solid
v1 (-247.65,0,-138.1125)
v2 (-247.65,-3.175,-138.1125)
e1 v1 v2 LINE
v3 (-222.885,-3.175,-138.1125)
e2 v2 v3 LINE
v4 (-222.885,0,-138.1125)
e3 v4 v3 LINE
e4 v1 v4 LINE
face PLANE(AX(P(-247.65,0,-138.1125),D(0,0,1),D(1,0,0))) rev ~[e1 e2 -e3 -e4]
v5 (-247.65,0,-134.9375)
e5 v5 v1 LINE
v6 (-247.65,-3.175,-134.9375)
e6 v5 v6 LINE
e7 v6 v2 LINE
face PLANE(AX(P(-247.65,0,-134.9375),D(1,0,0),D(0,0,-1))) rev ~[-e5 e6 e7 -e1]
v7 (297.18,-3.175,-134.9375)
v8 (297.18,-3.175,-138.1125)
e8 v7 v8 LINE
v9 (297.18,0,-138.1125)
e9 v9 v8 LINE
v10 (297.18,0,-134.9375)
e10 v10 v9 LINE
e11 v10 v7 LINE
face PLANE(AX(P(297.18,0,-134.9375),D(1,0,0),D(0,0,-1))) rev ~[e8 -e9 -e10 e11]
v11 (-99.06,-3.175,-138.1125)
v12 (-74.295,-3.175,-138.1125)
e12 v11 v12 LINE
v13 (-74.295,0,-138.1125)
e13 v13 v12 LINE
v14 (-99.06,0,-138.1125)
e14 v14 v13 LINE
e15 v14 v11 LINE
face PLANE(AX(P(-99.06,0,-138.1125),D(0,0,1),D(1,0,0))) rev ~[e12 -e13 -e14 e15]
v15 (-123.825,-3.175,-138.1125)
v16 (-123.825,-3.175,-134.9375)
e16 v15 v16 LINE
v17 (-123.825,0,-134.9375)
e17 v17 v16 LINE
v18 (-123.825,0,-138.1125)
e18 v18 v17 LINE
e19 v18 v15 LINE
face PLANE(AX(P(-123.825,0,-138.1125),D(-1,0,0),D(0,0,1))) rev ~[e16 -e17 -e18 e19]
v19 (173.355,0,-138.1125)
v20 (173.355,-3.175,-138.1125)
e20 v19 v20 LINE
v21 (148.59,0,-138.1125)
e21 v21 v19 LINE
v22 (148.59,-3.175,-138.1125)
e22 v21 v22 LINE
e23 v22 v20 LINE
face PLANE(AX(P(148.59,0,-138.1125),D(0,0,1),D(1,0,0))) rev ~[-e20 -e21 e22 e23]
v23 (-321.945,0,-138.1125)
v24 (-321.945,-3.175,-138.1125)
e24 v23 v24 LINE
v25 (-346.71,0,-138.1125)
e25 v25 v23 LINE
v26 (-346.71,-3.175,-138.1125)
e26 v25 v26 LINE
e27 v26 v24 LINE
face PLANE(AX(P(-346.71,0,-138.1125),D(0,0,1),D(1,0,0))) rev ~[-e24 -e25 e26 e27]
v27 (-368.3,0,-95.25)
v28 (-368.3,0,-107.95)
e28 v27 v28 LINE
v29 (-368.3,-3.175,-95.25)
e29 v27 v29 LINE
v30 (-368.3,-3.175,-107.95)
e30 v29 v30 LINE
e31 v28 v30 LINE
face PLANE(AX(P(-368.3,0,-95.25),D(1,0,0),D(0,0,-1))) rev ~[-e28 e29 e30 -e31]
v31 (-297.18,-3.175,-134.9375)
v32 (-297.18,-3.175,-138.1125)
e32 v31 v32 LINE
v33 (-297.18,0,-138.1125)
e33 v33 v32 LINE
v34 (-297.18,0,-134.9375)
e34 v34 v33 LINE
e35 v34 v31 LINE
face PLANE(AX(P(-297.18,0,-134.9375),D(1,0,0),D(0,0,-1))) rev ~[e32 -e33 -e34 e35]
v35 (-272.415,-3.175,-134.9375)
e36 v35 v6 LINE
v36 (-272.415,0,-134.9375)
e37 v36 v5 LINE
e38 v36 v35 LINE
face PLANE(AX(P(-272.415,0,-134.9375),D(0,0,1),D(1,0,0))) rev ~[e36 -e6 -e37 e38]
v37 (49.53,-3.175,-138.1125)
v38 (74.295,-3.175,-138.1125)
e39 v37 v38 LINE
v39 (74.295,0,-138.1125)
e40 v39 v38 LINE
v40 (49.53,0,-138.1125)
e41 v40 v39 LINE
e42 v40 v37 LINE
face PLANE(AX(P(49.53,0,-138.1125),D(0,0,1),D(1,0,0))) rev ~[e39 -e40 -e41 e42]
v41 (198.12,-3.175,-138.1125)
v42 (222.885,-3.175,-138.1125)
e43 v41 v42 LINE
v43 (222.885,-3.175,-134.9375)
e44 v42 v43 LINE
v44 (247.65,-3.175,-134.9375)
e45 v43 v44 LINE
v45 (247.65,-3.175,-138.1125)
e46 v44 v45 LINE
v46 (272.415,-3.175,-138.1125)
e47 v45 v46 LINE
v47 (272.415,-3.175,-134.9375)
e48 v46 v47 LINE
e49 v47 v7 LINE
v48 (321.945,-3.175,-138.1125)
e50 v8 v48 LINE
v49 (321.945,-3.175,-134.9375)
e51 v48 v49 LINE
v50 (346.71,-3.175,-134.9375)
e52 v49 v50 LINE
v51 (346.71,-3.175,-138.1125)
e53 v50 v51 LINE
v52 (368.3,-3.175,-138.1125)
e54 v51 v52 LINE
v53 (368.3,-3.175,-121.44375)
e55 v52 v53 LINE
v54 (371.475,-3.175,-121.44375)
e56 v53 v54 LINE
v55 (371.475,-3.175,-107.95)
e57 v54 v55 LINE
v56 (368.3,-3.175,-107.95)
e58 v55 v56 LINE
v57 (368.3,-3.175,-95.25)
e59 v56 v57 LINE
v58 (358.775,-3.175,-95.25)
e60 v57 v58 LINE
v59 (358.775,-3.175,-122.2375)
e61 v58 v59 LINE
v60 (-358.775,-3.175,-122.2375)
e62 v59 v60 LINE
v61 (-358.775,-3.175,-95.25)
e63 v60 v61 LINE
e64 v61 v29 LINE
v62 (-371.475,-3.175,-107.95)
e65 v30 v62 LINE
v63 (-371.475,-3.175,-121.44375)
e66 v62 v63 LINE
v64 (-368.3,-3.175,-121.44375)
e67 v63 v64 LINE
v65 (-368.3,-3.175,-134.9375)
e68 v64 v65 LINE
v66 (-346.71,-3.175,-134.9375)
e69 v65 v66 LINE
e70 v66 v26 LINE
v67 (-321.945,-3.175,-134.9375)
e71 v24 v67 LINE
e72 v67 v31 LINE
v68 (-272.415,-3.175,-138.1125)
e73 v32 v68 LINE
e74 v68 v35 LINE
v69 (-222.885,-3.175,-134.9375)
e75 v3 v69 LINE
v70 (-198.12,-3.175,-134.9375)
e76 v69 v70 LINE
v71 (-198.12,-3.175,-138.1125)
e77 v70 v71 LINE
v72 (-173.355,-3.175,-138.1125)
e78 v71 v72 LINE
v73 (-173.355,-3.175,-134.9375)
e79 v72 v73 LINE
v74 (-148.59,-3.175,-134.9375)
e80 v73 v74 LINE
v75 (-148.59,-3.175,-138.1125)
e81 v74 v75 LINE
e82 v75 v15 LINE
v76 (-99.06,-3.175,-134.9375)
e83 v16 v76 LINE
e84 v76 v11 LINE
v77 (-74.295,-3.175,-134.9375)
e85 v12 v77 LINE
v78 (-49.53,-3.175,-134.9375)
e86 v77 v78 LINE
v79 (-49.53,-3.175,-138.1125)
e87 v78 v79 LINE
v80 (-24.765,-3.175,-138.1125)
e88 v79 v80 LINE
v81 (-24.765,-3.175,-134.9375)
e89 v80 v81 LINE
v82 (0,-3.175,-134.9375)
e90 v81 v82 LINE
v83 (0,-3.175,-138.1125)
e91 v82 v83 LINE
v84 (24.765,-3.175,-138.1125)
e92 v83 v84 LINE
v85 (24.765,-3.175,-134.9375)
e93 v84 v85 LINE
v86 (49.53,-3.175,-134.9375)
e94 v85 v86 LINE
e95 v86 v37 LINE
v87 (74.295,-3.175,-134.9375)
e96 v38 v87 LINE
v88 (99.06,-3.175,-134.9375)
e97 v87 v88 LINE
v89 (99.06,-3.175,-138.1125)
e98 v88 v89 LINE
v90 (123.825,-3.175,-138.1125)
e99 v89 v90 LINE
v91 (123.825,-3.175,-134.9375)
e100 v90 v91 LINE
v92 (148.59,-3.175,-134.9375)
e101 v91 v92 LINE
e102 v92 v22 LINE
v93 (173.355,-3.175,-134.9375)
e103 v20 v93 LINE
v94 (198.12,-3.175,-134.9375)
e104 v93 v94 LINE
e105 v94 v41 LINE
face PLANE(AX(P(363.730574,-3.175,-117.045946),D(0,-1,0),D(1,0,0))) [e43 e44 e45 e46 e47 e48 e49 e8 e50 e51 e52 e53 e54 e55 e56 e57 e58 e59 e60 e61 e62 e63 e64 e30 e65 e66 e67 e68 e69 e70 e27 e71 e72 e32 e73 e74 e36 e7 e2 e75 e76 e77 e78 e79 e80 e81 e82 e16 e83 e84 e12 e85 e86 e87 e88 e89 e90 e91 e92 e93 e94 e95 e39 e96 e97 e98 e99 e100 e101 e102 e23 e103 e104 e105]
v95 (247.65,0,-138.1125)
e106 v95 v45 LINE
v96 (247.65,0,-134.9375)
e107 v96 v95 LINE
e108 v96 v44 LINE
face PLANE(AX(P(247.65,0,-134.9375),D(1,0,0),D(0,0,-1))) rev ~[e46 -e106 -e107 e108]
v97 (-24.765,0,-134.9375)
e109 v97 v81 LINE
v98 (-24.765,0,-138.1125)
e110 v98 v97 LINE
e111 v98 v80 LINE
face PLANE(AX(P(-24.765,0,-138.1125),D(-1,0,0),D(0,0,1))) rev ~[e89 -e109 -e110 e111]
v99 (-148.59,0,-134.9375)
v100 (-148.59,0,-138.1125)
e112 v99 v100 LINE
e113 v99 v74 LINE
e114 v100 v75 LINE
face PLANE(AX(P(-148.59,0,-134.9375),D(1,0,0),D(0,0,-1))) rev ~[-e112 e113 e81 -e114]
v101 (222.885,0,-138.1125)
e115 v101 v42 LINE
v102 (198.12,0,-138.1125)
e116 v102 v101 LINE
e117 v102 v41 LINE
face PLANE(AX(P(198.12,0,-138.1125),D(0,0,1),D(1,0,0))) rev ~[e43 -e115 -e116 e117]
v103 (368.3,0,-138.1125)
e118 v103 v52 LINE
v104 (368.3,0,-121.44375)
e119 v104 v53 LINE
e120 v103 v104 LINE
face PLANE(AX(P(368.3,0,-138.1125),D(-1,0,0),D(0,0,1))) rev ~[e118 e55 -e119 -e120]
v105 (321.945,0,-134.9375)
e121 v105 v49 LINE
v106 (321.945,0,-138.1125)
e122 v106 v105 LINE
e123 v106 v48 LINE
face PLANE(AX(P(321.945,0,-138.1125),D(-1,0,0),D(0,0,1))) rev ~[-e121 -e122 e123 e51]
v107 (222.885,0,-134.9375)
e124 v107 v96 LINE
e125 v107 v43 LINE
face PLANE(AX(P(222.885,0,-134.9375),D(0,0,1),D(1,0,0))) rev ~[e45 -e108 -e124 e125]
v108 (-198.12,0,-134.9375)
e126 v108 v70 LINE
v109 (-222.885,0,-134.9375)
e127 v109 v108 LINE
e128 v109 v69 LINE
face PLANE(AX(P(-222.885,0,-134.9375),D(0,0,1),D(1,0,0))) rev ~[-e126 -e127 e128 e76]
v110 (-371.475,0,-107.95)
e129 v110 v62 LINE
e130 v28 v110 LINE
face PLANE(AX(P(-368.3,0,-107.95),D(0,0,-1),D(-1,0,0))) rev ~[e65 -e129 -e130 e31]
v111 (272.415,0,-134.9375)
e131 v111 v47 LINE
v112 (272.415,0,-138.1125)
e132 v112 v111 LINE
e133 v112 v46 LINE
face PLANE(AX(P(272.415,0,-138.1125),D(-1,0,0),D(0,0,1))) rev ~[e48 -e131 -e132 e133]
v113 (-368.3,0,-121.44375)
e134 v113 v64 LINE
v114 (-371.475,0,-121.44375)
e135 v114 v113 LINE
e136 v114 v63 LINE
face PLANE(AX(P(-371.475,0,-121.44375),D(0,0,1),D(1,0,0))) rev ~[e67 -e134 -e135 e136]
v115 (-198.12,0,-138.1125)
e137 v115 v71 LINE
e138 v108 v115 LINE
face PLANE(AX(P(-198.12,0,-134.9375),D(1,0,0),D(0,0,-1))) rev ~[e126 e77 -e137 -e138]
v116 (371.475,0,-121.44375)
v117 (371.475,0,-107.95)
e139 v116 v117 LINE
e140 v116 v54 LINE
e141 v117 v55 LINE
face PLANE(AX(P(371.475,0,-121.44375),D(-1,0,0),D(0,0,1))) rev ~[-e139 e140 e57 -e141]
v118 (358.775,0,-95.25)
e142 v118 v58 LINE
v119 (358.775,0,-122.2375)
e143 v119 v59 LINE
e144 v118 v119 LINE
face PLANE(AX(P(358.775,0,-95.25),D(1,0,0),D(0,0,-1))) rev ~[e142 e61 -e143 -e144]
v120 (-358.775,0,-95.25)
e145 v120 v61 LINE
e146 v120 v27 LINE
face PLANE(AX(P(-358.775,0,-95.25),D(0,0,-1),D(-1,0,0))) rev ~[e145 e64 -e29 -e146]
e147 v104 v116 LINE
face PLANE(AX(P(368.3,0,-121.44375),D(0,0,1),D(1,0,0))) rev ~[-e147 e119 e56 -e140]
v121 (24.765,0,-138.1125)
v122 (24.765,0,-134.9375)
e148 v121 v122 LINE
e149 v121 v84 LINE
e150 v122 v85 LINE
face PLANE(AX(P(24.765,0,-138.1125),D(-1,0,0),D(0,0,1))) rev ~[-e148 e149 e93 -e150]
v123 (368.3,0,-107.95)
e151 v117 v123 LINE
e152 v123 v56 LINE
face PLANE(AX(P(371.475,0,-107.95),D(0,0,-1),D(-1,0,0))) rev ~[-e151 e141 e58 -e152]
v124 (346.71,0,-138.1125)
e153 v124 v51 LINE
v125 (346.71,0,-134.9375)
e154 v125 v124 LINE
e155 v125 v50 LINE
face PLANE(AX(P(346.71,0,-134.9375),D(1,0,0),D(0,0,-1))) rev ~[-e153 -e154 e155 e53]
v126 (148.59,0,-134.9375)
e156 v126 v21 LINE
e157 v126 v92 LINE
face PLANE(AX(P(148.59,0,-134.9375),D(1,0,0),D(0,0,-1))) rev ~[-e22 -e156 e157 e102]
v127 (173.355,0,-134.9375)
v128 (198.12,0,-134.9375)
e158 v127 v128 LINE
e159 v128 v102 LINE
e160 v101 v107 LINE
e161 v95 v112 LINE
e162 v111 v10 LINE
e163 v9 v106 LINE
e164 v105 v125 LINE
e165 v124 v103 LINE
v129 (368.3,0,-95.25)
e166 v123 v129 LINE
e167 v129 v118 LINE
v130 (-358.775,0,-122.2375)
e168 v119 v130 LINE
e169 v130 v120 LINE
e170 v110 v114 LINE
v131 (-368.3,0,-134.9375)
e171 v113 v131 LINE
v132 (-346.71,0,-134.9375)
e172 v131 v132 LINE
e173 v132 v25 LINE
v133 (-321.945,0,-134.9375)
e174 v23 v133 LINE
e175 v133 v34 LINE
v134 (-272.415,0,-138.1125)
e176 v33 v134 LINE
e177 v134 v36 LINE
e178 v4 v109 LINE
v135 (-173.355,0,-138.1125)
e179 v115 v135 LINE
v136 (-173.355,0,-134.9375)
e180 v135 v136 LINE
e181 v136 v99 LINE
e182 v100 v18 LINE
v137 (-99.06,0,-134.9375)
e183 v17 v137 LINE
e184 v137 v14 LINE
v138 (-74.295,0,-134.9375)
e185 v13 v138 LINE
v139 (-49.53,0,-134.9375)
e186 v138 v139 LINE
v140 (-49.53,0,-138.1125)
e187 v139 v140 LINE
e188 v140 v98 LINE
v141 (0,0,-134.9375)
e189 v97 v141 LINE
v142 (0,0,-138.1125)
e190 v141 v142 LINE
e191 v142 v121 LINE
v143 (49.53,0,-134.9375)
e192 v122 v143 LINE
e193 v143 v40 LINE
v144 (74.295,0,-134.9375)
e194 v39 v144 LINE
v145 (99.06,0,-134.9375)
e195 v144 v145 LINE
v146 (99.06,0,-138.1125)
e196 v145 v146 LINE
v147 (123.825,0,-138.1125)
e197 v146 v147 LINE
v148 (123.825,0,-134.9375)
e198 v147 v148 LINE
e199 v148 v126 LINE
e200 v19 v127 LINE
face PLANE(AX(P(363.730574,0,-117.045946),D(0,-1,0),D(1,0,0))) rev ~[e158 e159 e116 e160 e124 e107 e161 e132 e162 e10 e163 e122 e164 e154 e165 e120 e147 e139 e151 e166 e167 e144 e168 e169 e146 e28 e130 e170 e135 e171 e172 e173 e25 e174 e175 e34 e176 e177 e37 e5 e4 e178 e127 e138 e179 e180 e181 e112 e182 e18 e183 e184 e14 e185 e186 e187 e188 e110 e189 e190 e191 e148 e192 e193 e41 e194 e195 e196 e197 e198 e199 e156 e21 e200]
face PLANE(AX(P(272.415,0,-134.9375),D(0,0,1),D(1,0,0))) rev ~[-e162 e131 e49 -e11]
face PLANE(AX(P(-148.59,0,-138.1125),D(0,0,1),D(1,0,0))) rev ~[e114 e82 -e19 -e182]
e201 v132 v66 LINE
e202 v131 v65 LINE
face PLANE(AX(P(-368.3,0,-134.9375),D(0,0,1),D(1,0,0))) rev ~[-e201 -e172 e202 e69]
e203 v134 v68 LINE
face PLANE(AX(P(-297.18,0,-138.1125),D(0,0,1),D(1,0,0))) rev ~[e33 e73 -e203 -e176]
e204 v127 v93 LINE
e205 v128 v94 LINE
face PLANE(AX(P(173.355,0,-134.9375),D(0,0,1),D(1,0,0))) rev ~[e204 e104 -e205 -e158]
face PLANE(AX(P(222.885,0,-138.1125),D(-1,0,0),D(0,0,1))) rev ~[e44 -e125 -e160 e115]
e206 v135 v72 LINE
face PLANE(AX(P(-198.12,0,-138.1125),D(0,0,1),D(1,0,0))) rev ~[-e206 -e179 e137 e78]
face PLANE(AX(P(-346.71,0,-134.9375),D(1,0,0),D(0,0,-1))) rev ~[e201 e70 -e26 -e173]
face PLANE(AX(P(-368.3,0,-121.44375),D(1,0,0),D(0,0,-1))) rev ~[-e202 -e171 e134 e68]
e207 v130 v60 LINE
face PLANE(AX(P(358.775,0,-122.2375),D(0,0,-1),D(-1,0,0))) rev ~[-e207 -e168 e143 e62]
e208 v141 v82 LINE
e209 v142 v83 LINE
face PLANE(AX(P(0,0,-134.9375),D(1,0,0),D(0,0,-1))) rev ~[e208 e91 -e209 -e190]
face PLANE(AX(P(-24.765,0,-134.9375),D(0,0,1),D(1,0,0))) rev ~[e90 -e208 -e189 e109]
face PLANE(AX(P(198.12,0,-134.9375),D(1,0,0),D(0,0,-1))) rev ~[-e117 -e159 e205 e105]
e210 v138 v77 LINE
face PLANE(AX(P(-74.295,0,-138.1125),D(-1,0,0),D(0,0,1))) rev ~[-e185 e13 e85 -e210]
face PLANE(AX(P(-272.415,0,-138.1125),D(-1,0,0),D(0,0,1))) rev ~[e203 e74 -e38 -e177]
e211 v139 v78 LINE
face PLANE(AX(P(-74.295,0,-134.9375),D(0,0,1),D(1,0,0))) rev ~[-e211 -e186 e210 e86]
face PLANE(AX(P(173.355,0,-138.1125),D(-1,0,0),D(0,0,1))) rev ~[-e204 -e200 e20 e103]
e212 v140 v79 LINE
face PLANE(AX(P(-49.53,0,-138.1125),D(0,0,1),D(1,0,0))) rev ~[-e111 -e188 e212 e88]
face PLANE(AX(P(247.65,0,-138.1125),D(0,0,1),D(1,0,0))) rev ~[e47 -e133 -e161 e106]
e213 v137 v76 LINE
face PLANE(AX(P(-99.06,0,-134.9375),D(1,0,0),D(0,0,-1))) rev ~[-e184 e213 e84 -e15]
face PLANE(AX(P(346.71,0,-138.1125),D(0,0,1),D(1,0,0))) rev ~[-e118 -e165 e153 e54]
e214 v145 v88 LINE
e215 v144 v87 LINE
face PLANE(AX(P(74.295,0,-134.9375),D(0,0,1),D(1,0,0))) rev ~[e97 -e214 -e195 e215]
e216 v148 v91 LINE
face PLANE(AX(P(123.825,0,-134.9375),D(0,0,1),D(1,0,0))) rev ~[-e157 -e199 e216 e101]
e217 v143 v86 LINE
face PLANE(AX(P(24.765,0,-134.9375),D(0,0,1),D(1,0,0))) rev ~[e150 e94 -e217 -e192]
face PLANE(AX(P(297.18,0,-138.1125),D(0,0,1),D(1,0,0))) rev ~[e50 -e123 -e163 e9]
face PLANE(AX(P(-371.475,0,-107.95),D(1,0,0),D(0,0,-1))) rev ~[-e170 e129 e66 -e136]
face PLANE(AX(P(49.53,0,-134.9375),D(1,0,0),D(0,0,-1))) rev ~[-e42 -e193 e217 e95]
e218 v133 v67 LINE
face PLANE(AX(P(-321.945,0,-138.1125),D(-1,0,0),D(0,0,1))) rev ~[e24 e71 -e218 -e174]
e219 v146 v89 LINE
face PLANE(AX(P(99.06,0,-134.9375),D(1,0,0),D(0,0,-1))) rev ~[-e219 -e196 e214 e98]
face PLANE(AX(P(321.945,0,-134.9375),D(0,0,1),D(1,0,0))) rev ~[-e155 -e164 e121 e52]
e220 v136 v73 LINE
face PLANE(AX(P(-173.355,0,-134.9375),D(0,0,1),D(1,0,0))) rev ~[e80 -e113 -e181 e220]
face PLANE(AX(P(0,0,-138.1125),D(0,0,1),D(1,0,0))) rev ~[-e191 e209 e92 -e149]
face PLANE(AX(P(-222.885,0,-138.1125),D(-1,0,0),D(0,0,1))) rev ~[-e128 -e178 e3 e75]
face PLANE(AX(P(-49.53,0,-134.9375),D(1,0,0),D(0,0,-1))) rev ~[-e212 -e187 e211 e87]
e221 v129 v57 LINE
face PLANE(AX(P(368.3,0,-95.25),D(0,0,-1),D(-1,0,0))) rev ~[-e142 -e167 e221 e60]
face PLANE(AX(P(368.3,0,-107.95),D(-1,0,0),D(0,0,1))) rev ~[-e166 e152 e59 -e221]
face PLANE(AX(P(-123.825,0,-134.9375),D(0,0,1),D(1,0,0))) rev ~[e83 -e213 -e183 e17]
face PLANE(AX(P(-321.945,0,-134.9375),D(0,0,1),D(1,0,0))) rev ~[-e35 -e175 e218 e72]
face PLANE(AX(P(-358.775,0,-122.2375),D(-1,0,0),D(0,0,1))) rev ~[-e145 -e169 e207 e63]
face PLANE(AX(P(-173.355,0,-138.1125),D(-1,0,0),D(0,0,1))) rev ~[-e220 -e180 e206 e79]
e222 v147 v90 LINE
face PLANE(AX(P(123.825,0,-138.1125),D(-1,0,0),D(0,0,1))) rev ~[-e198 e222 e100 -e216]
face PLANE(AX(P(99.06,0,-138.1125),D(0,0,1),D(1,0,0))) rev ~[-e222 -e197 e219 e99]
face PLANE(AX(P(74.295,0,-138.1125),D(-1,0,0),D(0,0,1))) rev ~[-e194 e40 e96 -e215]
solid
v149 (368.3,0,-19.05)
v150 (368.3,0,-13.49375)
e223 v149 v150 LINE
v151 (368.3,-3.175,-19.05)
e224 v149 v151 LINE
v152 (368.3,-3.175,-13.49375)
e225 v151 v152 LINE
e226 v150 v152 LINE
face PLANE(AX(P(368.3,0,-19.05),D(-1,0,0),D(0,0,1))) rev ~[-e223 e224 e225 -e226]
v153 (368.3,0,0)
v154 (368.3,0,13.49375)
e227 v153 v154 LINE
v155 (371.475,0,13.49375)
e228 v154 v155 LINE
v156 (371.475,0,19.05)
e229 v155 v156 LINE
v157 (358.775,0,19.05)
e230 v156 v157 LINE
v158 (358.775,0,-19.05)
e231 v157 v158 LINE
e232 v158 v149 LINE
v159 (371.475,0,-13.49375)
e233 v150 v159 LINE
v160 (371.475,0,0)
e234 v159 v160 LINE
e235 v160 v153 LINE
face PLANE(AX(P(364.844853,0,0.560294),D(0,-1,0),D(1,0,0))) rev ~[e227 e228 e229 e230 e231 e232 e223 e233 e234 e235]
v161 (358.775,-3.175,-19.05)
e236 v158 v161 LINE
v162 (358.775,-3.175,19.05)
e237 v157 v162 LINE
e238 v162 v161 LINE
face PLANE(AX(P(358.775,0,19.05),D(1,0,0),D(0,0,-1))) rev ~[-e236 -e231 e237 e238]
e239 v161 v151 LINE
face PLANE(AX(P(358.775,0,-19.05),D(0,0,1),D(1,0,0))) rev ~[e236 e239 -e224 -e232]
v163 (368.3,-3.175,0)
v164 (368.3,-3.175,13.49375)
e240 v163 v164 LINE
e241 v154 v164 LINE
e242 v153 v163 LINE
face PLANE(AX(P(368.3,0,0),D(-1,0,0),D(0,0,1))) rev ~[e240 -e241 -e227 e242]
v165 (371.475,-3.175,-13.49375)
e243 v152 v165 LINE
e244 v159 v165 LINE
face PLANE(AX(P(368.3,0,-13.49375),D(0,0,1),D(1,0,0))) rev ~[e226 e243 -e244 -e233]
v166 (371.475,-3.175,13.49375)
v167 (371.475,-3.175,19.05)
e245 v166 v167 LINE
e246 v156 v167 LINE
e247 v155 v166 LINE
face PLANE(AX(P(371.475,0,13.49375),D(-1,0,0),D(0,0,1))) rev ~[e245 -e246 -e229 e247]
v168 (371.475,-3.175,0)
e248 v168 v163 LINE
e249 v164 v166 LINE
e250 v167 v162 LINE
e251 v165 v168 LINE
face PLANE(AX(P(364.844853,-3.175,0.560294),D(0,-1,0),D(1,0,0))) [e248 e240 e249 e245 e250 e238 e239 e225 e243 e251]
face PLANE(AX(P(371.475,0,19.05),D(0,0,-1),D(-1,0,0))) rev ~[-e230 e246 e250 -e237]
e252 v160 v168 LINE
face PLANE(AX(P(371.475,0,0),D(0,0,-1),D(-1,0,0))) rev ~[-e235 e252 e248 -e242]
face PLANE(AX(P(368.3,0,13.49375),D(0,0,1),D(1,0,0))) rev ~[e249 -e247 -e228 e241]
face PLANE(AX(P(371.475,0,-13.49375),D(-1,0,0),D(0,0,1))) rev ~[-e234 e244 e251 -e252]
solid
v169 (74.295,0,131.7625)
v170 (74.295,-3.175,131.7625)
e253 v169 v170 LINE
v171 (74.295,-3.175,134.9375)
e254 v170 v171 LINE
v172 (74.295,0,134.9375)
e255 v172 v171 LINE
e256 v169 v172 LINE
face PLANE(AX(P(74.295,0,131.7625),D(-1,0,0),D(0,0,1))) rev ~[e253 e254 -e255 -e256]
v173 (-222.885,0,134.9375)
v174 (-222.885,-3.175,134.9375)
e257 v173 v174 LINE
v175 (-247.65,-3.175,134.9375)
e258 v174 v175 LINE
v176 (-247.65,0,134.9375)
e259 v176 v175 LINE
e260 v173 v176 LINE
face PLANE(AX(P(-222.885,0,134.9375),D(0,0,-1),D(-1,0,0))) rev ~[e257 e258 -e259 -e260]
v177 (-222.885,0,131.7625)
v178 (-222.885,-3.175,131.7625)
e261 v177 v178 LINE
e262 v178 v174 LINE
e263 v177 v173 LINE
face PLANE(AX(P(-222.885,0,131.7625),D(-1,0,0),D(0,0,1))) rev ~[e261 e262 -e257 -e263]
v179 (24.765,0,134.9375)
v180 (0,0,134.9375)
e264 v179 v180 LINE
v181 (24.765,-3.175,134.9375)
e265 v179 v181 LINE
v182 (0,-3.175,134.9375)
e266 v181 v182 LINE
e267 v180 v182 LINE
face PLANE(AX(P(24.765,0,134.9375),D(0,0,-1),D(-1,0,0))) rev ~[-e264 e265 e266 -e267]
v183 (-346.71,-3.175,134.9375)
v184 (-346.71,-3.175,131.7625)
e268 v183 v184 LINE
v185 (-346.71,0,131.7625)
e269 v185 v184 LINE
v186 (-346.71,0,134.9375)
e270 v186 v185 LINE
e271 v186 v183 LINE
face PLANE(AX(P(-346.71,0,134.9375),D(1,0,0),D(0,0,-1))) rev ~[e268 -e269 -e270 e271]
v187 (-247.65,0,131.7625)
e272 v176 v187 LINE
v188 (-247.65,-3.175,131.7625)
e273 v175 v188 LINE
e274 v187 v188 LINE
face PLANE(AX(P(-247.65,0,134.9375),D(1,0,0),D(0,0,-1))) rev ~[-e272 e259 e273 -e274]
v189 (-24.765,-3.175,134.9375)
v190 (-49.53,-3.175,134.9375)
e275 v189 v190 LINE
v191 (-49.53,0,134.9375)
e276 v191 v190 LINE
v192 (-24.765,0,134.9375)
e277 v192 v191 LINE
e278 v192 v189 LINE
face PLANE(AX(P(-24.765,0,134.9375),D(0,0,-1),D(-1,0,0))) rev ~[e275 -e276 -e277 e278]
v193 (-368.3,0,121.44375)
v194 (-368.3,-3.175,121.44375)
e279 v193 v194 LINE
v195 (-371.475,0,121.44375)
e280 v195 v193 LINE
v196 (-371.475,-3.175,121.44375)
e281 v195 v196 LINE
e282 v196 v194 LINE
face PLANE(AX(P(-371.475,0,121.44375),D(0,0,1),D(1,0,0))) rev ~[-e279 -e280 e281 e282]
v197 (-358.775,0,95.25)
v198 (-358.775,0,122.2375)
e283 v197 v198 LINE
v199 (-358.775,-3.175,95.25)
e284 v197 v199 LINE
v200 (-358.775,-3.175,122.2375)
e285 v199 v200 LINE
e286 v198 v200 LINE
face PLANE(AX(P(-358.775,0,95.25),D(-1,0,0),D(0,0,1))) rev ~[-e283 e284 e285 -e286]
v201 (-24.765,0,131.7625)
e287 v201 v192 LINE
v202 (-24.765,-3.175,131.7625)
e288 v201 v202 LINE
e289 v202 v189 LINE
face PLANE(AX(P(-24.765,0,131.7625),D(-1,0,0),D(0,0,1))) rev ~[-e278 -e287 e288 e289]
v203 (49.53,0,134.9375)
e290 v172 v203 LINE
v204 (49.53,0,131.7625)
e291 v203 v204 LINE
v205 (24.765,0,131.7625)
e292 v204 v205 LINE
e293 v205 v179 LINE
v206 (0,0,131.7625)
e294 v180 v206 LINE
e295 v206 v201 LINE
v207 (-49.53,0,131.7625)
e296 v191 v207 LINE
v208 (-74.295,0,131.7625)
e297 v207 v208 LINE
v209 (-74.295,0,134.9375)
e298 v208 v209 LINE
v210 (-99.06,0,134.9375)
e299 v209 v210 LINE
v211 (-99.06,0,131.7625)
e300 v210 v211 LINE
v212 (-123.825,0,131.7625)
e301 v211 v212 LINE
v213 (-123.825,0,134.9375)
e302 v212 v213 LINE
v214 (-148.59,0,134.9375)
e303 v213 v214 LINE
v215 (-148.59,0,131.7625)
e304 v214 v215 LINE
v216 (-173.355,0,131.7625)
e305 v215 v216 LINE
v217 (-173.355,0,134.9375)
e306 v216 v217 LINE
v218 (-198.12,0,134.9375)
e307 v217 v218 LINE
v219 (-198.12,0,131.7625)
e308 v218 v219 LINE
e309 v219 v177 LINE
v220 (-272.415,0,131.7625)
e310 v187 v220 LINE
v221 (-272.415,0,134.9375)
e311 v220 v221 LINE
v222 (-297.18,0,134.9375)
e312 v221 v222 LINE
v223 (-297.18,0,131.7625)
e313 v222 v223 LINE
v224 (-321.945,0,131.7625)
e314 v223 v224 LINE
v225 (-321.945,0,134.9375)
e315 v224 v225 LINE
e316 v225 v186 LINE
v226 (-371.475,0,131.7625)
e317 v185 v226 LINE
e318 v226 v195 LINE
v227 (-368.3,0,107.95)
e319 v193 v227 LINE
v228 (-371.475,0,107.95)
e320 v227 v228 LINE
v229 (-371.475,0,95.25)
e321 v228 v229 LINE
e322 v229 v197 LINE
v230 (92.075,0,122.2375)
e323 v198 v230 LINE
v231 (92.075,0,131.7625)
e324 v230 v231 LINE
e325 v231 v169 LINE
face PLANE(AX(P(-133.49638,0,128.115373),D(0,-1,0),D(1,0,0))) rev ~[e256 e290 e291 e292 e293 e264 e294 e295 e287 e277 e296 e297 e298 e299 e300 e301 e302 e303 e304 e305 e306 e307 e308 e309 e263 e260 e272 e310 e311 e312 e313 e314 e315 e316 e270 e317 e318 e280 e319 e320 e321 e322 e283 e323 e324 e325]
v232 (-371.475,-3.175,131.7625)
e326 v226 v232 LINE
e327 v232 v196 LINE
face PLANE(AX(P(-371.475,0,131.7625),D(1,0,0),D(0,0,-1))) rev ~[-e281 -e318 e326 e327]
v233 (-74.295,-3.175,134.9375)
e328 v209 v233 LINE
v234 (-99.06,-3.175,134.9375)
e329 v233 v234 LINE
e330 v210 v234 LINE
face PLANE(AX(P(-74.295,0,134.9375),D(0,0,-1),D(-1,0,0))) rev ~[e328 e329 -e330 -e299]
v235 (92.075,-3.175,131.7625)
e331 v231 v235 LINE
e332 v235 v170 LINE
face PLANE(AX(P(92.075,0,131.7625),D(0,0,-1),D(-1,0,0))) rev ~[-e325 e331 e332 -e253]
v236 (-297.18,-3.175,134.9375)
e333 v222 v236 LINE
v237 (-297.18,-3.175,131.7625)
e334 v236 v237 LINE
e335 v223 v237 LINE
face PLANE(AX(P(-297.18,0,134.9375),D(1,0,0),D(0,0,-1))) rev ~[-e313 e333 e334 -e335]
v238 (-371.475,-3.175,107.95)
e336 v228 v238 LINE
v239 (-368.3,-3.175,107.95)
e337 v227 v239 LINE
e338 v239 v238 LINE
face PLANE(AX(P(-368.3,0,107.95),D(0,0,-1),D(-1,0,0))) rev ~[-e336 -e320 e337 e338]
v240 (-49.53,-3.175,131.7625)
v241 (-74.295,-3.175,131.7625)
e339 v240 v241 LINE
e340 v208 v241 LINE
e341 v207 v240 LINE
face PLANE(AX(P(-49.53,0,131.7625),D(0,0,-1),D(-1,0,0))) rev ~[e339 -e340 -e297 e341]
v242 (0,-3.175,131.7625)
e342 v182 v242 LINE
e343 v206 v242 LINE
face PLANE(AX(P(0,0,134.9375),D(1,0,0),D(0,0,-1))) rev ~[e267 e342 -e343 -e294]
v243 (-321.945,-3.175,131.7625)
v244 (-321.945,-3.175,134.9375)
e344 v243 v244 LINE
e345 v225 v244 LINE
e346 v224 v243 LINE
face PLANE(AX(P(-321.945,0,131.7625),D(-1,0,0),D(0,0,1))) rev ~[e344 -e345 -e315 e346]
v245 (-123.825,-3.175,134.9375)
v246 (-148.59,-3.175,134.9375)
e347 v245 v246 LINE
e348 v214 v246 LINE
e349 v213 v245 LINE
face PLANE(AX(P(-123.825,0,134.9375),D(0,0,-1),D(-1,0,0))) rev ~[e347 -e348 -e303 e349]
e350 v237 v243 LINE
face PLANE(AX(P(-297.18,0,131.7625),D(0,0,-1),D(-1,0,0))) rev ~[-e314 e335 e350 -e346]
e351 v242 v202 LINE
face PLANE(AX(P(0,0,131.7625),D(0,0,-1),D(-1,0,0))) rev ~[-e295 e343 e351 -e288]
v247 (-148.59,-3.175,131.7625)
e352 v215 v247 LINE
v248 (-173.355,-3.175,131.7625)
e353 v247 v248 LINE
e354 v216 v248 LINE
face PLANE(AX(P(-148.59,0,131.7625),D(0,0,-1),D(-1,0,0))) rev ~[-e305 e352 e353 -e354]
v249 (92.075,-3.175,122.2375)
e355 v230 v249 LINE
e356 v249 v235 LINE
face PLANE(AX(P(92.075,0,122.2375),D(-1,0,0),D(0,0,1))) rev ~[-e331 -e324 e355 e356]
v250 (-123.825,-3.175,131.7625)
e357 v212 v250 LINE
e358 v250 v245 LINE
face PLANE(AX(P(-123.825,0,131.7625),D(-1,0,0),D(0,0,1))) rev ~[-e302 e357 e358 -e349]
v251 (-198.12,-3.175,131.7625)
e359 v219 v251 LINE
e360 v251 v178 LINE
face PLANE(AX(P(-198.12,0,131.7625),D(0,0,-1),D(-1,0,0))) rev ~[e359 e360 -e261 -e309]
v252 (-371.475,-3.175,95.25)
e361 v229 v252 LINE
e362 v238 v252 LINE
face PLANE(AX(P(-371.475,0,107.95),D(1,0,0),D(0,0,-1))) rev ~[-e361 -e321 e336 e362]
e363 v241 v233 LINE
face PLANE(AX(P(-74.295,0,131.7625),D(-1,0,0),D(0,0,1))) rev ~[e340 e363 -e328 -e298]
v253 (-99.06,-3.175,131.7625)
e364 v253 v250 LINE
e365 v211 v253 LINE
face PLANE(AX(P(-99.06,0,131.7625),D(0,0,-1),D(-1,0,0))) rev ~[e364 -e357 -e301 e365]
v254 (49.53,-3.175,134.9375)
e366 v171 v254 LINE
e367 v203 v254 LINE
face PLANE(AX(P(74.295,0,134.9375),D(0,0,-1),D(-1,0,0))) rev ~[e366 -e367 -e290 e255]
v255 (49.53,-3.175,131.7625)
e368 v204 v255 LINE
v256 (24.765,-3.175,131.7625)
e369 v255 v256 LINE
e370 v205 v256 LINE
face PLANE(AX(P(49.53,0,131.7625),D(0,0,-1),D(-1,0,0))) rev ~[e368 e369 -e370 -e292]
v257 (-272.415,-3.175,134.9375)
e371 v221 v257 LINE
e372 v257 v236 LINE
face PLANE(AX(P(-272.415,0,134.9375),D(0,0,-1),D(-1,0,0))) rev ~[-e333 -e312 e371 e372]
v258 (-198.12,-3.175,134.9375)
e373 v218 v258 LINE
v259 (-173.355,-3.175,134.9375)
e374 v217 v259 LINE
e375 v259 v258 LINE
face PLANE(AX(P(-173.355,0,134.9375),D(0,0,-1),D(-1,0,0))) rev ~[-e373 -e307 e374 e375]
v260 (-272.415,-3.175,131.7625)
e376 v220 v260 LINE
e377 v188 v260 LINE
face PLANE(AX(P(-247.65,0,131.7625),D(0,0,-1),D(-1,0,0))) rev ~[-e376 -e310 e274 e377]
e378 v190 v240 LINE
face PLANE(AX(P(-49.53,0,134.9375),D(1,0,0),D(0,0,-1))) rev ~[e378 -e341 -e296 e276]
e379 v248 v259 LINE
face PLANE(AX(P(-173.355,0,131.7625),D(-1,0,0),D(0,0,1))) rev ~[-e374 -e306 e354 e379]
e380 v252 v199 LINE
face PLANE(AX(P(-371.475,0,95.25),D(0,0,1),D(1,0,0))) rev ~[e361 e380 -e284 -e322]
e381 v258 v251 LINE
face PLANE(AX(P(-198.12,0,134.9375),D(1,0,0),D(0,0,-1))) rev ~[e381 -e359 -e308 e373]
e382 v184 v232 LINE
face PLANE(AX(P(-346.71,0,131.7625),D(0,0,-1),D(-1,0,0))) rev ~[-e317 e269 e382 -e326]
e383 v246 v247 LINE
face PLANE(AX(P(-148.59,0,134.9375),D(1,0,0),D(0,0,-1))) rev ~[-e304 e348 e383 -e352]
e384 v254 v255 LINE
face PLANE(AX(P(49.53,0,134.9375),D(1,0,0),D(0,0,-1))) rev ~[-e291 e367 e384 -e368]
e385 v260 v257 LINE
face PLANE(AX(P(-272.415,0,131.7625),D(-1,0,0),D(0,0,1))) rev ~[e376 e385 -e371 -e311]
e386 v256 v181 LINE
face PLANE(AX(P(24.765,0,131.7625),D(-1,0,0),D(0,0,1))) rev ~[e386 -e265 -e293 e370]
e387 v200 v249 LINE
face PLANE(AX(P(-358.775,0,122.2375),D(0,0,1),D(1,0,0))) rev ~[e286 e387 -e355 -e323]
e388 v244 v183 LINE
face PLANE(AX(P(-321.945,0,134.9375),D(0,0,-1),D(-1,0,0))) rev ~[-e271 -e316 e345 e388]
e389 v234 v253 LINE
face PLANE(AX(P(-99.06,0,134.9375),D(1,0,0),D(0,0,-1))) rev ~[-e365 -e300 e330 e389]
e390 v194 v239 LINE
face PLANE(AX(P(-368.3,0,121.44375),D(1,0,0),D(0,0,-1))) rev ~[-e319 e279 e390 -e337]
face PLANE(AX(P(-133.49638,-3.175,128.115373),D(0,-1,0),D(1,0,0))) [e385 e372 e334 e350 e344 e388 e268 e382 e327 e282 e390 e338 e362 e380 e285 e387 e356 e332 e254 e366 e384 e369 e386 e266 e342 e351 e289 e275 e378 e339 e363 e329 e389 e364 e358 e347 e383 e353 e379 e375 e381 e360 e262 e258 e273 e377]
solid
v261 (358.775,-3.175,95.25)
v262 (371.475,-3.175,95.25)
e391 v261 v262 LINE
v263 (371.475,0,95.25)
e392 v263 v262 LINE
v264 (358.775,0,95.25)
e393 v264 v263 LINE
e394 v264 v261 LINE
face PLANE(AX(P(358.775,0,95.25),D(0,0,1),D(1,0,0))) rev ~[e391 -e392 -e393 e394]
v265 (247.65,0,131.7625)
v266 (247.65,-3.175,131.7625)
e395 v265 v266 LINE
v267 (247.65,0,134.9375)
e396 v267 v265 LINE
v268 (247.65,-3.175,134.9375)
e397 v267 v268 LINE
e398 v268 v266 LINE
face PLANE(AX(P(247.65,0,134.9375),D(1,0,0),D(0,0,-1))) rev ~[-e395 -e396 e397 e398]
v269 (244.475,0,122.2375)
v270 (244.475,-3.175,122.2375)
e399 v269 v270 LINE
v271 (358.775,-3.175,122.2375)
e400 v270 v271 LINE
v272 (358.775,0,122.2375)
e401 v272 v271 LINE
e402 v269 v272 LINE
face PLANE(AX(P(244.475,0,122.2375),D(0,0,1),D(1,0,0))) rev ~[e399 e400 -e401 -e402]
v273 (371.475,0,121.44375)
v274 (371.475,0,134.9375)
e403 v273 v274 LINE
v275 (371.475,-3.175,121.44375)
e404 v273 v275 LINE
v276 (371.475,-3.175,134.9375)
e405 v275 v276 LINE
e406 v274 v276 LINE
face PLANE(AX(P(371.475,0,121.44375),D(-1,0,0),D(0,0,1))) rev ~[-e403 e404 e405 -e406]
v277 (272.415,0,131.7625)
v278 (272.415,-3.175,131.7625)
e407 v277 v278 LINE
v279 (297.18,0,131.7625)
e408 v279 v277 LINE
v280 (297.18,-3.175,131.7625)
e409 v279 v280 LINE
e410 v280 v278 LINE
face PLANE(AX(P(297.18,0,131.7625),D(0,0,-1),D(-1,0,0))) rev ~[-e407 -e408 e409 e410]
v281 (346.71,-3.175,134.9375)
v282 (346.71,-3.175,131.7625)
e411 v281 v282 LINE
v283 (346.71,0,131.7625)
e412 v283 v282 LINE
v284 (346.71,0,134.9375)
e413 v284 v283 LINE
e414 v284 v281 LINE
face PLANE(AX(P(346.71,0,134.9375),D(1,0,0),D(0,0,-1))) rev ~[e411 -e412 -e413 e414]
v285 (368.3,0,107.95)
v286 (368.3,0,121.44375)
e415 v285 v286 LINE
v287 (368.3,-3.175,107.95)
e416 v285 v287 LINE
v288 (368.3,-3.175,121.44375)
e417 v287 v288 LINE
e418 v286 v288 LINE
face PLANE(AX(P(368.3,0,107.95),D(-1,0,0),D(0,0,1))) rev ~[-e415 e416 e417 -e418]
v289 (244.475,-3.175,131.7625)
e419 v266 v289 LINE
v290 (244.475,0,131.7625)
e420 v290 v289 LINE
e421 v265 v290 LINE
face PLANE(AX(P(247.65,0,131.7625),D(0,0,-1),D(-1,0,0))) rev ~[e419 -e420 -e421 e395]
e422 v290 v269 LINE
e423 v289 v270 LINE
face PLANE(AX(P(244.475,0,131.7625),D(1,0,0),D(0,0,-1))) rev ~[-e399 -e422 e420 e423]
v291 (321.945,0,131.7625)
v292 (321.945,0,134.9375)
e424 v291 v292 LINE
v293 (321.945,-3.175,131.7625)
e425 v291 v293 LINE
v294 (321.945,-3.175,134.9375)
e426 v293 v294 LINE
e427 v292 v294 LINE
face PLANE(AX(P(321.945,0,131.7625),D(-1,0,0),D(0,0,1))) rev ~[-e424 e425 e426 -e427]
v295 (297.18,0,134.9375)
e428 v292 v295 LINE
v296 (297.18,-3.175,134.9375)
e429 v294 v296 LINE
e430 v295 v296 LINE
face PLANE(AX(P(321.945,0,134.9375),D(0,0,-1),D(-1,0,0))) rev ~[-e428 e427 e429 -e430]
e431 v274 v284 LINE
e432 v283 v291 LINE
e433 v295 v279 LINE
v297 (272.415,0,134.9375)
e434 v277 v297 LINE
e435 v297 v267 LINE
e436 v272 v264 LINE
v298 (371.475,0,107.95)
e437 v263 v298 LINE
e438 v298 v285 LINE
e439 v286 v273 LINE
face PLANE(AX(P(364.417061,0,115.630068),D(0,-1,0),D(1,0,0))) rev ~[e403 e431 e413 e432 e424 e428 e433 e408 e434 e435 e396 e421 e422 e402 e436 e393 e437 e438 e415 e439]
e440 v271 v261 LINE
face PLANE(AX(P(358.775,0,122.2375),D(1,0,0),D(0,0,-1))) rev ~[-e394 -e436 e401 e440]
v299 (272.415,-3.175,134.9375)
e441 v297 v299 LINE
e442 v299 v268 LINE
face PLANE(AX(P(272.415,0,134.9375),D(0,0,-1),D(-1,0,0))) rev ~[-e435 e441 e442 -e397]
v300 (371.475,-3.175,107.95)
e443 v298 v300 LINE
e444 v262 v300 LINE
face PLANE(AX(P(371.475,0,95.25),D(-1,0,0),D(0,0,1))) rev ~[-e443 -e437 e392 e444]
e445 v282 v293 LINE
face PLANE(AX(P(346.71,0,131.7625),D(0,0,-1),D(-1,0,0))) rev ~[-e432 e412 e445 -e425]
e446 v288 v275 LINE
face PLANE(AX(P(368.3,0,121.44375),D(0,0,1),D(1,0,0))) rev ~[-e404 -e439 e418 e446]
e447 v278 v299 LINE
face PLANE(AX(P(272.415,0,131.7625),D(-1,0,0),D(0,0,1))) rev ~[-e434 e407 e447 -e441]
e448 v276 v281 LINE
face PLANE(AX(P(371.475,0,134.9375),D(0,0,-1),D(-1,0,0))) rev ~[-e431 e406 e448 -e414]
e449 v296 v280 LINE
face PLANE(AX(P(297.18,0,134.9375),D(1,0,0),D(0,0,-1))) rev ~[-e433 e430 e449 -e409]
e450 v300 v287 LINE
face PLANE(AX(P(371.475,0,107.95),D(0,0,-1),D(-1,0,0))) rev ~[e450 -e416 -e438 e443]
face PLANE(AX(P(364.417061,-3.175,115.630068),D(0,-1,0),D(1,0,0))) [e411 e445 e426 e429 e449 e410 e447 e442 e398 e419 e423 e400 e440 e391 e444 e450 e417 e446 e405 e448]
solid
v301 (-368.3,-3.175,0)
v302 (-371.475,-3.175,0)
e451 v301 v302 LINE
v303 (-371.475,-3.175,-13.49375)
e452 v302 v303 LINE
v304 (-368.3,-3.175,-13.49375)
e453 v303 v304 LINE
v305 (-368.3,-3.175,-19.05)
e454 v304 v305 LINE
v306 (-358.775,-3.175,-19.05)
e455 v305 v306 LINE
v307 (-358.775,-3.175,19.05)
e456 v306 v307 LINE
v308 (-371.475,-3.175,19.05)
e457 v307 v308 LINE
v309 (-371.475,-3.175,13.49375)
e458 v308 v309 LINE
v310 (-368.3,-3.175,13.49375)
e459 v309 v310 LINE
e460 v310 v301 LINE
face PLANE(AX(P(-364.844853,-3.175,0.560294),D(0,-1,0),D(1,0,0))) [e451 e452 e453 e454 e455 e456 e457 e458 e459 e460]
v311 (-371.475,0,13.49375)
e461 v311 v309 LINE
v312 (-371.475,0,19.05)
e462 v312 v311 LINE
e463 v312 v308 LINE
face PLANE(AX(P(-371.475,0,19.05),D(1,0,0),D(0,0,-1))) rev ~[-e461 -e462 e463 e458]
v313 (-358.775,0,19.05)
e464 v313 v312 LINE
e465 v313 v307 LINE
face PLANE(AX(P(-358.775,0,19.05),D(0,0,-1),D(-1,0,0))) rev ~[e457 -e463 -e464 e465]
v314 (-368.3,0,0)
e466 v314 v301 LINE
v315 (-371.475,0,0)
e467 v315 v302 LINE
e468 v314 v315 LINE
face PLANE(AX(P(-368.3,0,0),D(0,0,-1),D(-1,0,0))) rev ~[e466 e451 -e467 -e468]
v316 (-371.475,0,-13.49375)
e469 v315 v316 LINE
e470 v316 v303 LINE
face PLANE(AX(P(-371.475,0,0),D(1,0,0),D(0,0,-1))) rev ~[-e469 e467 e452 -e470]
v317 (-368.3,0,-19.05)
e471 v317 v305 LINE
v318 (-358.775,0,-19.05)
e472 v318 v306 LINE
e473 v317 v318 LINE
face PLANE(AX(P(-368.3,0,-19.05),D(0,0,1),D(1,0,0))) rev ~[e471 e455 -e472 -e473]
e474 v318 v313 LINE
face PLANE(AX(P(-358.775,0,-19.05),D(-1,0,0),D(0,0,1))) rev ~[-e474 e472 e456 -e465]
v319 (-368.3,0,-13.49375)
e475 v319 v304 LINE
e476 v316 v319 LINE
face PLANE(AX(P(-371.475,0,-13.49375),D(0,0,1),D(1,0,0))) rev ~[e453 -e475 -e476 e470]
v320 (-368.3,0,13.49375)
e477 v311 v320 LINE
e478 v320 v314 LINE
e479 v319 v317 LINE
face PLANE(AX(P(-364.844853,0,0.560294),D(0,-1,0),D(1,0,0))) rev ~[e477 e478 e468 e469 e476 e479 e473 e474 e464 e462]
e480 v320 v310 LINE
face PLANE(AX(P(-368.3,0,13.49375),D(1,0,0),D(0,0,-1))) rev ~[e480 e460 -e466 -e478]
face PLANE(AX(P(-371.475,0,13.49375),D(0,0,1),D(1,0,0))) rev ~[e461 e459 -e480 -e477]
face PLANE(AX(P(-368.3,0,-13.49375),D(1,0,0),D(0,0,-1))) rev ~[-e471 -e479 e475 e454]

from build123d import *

# Parameters (mm, degrees)
F1_DEPTH = 3.175


with BuildPart() as f1:
    # F0 (on Front) → F1 (new body)
    with BuildSketch(Plane.XZ):
        Polygon((358.775, 19.05), (358.775, -19.05), (368.3, -19.05), (368.3, -13.49375), (371.475, -13.49375), (371.475, 0), (368.3, 0), (368.3, 13.49375), (371.475, 13.49375), (371.475, 19.05), align=None)
        Polygon((-368.3, -19.05), (-358.775, -19.05), (-358.775, 19.05), (-371.475, 19.05), (-371.475, 13.49375), (-368.3, 13.49375), (-368.3, 0), (-371.475, 0), (-371.475, -13.49375), (-368.3, -13.49375), align=None)
        Polygon((358.775, -95.25), (358.775, -122.2375), (355.6, -122.2375), (355.6, -128.5875), (358.775, -128.5875), (358.775, -134.9375), (358.775, -138.1125), (365.125, -138.1125), (368.3, -138.1125), (368.3, -134.9375), (368.3, -121.44375), (371.475, -121.44375), (371.475, -107.95), (368.3, -107.95), (368.3, -95.25), (365.125, -95.25), align=None)
        Polygon((-355.6, -128.5875), (-355.6, -122.2375), (-358.775, -122.2375), (-358.775, -95.25), (-365.125, -95.25), (-368.3, -95.25), (-368.3, -107.95), (-371.475, -107.95), (-371.475, -121.44375), (-368.3, -121.44375), (-368.3, -131.7625), (-368.3, -134.9375), (-365.125, -134.9375), (-358.775, -134.9375), (-358.775, -131.7625), (-358.775, -128.5875), align=None)
        Polygon((358.775, 122.2375), (358.775, 95.25), (371.475, 95.25), (371.475, 107.95), (368.3, 107.95), (368.3, 121.44375), (371.475, 121.44375), (371.475, 134.9375), (358.775, 134.9375), (358.775, 128.5875), (355.6, 128.5875), (355.6, 122.2375), align=None)
        Polygon((244.475, 122.2375), (355.6, 122.2375), (355.6, 128.5875), (358.775, 128.5875), (358.775, 134.9375), (346.71, 134.9375), (346.71, 131.7625), (321.945, 131.7625), (321.945, 134.9375), (318.77, 134.9375), (297.18, 134.9375), (297.18, 131.7625), (272.415, 131.7625), (272.415, 134.9375), (247.65, 134.9375), (247.65, 131.7625), (244.475, 131.7625), align=None)
        Polygon((-355.6, 122.2375), (92.075, 122.2375), (92.075, 131.7625), (74.295, 131.7625), (74.295, 134.9375), (49.53, 134.9375), (49.53, 131.7625), (24.765, 131.7625), (24.765, 134.9375), (0, 134.9375), (0, 131.7625), (-24.765, 131.7625), (-24.765, 134.9375), (-49.53, 134.9375), (-49.53, 131.7625), (-74.295, 131.7625), (-74.295, 134.9375), (-99.06, 134.9375), (-99.06, 131.7625), (-123.825, 131.7625), (-123.825, 134.9375), (-148.59, 134.9375), (-148.59, 131.7625), (-173.355, 131.7625), (-173.355, 134.9375), (-198.12, 134.9375), (-198.12, 131.7625), (-222.885, 131.7625), (-222.885, 134.9375), (-247.65, 134.9375), (-247.65, 131.7625), (-272.415, 131.7625), (-272.415, 134.9375), (-297.18, 134.9375), (-297.18, 131.7625), (-321.945, 131.7625), (-321.945, 134.9375), (-346.71, 134.9375), (-346.71, 131.7625), (-358.775, 131.7625), (-358.775, 128.5875), (-355.6, 128.5875), align=None)
        Polygon((-371.475, 95.25), (-358.775, 95.25), (-358.775, 122.2375), (-355.6, 122.2375), (-355.6, 128.5875), (-358.775, 128.5875), (-358.775, 131.7625), (-371.475, 131.7625), (-371.475, 121.44375), (-368.3, 121.44375), (-368.3, 107.95), (-371.475, 107.95), align=None)
        Polygon((355.6, -128.5875), (355.6, -122.2375), (-355.6, -122.2375), (-355.6, -128.5875), (-358.775, -128.5875), (-358.775, -131.7625), (-358.775, -134.9375), (-349.885, -134.9375), (-346.71, -134.9375), (-346.71, -138.1125), (-321.945, -138.1125), (-321.945, -134.9375), (-297.18, -134.9375), (-297.18, -138.1125), (-272.415, -138.1125), (-272.415, -134.9375), (-247.65, -134.9375), (-247.65, -138.1125), (-222.885, -138.1125), (-222.885, -134.9375), (-198.12, -134.9375), (-198.12, -138.1125), (-173.355, -138.1125), (-173.355, -134.9375), (-148.59, -134.9375), (-148.59, -138.1125), (-123.825, -138.1125), (-123.825, -134.9375), (-99.06, -134.9375), (-99.06, -138.1125), (-74.295, -138.1125), (-74.295, -134.9375), (-49.53, -134.9375), (-49.53, -138.1125), (-24.765, -138.1125), (-24.765, -134.9375), (0, -134.9375), (0, -138.1125), (24.765, -138.1125), (24.765, -134.9375), (49.53, -134.9375), (49.53, -138.1125), (74.295, -138.1125), (74.295, -134.9375), (99.06, -134.9375), (99.06, -138.1125), (123.825, -138.1125), (123.825, -134.9375), (148.59, -134.9375), (148.59, -138.1125), (173.355, -138.1125), (173.355, -134.9375), (198.12, -134.9375), (198.12, -138.1125), (222.885, -138.1125), (222.885, -134.9375), (247.65, -134.9375), (247.65, -138.1125), (272.415, -138.1125), (272.415, -134.9375), (297.18, -134.9375), (297.18, -138.1125), (321.945, -138.1125), (321.945, -134.9375), (346.71, -134.9375), (346.71, -138.1125), (349.885, -138.1125), (358.775, -138.1125), (358.775, -134.9375), (358.775, -128.5875), align=None)
    extrude(amount=F1_DEPTH)


solid = f1.part
